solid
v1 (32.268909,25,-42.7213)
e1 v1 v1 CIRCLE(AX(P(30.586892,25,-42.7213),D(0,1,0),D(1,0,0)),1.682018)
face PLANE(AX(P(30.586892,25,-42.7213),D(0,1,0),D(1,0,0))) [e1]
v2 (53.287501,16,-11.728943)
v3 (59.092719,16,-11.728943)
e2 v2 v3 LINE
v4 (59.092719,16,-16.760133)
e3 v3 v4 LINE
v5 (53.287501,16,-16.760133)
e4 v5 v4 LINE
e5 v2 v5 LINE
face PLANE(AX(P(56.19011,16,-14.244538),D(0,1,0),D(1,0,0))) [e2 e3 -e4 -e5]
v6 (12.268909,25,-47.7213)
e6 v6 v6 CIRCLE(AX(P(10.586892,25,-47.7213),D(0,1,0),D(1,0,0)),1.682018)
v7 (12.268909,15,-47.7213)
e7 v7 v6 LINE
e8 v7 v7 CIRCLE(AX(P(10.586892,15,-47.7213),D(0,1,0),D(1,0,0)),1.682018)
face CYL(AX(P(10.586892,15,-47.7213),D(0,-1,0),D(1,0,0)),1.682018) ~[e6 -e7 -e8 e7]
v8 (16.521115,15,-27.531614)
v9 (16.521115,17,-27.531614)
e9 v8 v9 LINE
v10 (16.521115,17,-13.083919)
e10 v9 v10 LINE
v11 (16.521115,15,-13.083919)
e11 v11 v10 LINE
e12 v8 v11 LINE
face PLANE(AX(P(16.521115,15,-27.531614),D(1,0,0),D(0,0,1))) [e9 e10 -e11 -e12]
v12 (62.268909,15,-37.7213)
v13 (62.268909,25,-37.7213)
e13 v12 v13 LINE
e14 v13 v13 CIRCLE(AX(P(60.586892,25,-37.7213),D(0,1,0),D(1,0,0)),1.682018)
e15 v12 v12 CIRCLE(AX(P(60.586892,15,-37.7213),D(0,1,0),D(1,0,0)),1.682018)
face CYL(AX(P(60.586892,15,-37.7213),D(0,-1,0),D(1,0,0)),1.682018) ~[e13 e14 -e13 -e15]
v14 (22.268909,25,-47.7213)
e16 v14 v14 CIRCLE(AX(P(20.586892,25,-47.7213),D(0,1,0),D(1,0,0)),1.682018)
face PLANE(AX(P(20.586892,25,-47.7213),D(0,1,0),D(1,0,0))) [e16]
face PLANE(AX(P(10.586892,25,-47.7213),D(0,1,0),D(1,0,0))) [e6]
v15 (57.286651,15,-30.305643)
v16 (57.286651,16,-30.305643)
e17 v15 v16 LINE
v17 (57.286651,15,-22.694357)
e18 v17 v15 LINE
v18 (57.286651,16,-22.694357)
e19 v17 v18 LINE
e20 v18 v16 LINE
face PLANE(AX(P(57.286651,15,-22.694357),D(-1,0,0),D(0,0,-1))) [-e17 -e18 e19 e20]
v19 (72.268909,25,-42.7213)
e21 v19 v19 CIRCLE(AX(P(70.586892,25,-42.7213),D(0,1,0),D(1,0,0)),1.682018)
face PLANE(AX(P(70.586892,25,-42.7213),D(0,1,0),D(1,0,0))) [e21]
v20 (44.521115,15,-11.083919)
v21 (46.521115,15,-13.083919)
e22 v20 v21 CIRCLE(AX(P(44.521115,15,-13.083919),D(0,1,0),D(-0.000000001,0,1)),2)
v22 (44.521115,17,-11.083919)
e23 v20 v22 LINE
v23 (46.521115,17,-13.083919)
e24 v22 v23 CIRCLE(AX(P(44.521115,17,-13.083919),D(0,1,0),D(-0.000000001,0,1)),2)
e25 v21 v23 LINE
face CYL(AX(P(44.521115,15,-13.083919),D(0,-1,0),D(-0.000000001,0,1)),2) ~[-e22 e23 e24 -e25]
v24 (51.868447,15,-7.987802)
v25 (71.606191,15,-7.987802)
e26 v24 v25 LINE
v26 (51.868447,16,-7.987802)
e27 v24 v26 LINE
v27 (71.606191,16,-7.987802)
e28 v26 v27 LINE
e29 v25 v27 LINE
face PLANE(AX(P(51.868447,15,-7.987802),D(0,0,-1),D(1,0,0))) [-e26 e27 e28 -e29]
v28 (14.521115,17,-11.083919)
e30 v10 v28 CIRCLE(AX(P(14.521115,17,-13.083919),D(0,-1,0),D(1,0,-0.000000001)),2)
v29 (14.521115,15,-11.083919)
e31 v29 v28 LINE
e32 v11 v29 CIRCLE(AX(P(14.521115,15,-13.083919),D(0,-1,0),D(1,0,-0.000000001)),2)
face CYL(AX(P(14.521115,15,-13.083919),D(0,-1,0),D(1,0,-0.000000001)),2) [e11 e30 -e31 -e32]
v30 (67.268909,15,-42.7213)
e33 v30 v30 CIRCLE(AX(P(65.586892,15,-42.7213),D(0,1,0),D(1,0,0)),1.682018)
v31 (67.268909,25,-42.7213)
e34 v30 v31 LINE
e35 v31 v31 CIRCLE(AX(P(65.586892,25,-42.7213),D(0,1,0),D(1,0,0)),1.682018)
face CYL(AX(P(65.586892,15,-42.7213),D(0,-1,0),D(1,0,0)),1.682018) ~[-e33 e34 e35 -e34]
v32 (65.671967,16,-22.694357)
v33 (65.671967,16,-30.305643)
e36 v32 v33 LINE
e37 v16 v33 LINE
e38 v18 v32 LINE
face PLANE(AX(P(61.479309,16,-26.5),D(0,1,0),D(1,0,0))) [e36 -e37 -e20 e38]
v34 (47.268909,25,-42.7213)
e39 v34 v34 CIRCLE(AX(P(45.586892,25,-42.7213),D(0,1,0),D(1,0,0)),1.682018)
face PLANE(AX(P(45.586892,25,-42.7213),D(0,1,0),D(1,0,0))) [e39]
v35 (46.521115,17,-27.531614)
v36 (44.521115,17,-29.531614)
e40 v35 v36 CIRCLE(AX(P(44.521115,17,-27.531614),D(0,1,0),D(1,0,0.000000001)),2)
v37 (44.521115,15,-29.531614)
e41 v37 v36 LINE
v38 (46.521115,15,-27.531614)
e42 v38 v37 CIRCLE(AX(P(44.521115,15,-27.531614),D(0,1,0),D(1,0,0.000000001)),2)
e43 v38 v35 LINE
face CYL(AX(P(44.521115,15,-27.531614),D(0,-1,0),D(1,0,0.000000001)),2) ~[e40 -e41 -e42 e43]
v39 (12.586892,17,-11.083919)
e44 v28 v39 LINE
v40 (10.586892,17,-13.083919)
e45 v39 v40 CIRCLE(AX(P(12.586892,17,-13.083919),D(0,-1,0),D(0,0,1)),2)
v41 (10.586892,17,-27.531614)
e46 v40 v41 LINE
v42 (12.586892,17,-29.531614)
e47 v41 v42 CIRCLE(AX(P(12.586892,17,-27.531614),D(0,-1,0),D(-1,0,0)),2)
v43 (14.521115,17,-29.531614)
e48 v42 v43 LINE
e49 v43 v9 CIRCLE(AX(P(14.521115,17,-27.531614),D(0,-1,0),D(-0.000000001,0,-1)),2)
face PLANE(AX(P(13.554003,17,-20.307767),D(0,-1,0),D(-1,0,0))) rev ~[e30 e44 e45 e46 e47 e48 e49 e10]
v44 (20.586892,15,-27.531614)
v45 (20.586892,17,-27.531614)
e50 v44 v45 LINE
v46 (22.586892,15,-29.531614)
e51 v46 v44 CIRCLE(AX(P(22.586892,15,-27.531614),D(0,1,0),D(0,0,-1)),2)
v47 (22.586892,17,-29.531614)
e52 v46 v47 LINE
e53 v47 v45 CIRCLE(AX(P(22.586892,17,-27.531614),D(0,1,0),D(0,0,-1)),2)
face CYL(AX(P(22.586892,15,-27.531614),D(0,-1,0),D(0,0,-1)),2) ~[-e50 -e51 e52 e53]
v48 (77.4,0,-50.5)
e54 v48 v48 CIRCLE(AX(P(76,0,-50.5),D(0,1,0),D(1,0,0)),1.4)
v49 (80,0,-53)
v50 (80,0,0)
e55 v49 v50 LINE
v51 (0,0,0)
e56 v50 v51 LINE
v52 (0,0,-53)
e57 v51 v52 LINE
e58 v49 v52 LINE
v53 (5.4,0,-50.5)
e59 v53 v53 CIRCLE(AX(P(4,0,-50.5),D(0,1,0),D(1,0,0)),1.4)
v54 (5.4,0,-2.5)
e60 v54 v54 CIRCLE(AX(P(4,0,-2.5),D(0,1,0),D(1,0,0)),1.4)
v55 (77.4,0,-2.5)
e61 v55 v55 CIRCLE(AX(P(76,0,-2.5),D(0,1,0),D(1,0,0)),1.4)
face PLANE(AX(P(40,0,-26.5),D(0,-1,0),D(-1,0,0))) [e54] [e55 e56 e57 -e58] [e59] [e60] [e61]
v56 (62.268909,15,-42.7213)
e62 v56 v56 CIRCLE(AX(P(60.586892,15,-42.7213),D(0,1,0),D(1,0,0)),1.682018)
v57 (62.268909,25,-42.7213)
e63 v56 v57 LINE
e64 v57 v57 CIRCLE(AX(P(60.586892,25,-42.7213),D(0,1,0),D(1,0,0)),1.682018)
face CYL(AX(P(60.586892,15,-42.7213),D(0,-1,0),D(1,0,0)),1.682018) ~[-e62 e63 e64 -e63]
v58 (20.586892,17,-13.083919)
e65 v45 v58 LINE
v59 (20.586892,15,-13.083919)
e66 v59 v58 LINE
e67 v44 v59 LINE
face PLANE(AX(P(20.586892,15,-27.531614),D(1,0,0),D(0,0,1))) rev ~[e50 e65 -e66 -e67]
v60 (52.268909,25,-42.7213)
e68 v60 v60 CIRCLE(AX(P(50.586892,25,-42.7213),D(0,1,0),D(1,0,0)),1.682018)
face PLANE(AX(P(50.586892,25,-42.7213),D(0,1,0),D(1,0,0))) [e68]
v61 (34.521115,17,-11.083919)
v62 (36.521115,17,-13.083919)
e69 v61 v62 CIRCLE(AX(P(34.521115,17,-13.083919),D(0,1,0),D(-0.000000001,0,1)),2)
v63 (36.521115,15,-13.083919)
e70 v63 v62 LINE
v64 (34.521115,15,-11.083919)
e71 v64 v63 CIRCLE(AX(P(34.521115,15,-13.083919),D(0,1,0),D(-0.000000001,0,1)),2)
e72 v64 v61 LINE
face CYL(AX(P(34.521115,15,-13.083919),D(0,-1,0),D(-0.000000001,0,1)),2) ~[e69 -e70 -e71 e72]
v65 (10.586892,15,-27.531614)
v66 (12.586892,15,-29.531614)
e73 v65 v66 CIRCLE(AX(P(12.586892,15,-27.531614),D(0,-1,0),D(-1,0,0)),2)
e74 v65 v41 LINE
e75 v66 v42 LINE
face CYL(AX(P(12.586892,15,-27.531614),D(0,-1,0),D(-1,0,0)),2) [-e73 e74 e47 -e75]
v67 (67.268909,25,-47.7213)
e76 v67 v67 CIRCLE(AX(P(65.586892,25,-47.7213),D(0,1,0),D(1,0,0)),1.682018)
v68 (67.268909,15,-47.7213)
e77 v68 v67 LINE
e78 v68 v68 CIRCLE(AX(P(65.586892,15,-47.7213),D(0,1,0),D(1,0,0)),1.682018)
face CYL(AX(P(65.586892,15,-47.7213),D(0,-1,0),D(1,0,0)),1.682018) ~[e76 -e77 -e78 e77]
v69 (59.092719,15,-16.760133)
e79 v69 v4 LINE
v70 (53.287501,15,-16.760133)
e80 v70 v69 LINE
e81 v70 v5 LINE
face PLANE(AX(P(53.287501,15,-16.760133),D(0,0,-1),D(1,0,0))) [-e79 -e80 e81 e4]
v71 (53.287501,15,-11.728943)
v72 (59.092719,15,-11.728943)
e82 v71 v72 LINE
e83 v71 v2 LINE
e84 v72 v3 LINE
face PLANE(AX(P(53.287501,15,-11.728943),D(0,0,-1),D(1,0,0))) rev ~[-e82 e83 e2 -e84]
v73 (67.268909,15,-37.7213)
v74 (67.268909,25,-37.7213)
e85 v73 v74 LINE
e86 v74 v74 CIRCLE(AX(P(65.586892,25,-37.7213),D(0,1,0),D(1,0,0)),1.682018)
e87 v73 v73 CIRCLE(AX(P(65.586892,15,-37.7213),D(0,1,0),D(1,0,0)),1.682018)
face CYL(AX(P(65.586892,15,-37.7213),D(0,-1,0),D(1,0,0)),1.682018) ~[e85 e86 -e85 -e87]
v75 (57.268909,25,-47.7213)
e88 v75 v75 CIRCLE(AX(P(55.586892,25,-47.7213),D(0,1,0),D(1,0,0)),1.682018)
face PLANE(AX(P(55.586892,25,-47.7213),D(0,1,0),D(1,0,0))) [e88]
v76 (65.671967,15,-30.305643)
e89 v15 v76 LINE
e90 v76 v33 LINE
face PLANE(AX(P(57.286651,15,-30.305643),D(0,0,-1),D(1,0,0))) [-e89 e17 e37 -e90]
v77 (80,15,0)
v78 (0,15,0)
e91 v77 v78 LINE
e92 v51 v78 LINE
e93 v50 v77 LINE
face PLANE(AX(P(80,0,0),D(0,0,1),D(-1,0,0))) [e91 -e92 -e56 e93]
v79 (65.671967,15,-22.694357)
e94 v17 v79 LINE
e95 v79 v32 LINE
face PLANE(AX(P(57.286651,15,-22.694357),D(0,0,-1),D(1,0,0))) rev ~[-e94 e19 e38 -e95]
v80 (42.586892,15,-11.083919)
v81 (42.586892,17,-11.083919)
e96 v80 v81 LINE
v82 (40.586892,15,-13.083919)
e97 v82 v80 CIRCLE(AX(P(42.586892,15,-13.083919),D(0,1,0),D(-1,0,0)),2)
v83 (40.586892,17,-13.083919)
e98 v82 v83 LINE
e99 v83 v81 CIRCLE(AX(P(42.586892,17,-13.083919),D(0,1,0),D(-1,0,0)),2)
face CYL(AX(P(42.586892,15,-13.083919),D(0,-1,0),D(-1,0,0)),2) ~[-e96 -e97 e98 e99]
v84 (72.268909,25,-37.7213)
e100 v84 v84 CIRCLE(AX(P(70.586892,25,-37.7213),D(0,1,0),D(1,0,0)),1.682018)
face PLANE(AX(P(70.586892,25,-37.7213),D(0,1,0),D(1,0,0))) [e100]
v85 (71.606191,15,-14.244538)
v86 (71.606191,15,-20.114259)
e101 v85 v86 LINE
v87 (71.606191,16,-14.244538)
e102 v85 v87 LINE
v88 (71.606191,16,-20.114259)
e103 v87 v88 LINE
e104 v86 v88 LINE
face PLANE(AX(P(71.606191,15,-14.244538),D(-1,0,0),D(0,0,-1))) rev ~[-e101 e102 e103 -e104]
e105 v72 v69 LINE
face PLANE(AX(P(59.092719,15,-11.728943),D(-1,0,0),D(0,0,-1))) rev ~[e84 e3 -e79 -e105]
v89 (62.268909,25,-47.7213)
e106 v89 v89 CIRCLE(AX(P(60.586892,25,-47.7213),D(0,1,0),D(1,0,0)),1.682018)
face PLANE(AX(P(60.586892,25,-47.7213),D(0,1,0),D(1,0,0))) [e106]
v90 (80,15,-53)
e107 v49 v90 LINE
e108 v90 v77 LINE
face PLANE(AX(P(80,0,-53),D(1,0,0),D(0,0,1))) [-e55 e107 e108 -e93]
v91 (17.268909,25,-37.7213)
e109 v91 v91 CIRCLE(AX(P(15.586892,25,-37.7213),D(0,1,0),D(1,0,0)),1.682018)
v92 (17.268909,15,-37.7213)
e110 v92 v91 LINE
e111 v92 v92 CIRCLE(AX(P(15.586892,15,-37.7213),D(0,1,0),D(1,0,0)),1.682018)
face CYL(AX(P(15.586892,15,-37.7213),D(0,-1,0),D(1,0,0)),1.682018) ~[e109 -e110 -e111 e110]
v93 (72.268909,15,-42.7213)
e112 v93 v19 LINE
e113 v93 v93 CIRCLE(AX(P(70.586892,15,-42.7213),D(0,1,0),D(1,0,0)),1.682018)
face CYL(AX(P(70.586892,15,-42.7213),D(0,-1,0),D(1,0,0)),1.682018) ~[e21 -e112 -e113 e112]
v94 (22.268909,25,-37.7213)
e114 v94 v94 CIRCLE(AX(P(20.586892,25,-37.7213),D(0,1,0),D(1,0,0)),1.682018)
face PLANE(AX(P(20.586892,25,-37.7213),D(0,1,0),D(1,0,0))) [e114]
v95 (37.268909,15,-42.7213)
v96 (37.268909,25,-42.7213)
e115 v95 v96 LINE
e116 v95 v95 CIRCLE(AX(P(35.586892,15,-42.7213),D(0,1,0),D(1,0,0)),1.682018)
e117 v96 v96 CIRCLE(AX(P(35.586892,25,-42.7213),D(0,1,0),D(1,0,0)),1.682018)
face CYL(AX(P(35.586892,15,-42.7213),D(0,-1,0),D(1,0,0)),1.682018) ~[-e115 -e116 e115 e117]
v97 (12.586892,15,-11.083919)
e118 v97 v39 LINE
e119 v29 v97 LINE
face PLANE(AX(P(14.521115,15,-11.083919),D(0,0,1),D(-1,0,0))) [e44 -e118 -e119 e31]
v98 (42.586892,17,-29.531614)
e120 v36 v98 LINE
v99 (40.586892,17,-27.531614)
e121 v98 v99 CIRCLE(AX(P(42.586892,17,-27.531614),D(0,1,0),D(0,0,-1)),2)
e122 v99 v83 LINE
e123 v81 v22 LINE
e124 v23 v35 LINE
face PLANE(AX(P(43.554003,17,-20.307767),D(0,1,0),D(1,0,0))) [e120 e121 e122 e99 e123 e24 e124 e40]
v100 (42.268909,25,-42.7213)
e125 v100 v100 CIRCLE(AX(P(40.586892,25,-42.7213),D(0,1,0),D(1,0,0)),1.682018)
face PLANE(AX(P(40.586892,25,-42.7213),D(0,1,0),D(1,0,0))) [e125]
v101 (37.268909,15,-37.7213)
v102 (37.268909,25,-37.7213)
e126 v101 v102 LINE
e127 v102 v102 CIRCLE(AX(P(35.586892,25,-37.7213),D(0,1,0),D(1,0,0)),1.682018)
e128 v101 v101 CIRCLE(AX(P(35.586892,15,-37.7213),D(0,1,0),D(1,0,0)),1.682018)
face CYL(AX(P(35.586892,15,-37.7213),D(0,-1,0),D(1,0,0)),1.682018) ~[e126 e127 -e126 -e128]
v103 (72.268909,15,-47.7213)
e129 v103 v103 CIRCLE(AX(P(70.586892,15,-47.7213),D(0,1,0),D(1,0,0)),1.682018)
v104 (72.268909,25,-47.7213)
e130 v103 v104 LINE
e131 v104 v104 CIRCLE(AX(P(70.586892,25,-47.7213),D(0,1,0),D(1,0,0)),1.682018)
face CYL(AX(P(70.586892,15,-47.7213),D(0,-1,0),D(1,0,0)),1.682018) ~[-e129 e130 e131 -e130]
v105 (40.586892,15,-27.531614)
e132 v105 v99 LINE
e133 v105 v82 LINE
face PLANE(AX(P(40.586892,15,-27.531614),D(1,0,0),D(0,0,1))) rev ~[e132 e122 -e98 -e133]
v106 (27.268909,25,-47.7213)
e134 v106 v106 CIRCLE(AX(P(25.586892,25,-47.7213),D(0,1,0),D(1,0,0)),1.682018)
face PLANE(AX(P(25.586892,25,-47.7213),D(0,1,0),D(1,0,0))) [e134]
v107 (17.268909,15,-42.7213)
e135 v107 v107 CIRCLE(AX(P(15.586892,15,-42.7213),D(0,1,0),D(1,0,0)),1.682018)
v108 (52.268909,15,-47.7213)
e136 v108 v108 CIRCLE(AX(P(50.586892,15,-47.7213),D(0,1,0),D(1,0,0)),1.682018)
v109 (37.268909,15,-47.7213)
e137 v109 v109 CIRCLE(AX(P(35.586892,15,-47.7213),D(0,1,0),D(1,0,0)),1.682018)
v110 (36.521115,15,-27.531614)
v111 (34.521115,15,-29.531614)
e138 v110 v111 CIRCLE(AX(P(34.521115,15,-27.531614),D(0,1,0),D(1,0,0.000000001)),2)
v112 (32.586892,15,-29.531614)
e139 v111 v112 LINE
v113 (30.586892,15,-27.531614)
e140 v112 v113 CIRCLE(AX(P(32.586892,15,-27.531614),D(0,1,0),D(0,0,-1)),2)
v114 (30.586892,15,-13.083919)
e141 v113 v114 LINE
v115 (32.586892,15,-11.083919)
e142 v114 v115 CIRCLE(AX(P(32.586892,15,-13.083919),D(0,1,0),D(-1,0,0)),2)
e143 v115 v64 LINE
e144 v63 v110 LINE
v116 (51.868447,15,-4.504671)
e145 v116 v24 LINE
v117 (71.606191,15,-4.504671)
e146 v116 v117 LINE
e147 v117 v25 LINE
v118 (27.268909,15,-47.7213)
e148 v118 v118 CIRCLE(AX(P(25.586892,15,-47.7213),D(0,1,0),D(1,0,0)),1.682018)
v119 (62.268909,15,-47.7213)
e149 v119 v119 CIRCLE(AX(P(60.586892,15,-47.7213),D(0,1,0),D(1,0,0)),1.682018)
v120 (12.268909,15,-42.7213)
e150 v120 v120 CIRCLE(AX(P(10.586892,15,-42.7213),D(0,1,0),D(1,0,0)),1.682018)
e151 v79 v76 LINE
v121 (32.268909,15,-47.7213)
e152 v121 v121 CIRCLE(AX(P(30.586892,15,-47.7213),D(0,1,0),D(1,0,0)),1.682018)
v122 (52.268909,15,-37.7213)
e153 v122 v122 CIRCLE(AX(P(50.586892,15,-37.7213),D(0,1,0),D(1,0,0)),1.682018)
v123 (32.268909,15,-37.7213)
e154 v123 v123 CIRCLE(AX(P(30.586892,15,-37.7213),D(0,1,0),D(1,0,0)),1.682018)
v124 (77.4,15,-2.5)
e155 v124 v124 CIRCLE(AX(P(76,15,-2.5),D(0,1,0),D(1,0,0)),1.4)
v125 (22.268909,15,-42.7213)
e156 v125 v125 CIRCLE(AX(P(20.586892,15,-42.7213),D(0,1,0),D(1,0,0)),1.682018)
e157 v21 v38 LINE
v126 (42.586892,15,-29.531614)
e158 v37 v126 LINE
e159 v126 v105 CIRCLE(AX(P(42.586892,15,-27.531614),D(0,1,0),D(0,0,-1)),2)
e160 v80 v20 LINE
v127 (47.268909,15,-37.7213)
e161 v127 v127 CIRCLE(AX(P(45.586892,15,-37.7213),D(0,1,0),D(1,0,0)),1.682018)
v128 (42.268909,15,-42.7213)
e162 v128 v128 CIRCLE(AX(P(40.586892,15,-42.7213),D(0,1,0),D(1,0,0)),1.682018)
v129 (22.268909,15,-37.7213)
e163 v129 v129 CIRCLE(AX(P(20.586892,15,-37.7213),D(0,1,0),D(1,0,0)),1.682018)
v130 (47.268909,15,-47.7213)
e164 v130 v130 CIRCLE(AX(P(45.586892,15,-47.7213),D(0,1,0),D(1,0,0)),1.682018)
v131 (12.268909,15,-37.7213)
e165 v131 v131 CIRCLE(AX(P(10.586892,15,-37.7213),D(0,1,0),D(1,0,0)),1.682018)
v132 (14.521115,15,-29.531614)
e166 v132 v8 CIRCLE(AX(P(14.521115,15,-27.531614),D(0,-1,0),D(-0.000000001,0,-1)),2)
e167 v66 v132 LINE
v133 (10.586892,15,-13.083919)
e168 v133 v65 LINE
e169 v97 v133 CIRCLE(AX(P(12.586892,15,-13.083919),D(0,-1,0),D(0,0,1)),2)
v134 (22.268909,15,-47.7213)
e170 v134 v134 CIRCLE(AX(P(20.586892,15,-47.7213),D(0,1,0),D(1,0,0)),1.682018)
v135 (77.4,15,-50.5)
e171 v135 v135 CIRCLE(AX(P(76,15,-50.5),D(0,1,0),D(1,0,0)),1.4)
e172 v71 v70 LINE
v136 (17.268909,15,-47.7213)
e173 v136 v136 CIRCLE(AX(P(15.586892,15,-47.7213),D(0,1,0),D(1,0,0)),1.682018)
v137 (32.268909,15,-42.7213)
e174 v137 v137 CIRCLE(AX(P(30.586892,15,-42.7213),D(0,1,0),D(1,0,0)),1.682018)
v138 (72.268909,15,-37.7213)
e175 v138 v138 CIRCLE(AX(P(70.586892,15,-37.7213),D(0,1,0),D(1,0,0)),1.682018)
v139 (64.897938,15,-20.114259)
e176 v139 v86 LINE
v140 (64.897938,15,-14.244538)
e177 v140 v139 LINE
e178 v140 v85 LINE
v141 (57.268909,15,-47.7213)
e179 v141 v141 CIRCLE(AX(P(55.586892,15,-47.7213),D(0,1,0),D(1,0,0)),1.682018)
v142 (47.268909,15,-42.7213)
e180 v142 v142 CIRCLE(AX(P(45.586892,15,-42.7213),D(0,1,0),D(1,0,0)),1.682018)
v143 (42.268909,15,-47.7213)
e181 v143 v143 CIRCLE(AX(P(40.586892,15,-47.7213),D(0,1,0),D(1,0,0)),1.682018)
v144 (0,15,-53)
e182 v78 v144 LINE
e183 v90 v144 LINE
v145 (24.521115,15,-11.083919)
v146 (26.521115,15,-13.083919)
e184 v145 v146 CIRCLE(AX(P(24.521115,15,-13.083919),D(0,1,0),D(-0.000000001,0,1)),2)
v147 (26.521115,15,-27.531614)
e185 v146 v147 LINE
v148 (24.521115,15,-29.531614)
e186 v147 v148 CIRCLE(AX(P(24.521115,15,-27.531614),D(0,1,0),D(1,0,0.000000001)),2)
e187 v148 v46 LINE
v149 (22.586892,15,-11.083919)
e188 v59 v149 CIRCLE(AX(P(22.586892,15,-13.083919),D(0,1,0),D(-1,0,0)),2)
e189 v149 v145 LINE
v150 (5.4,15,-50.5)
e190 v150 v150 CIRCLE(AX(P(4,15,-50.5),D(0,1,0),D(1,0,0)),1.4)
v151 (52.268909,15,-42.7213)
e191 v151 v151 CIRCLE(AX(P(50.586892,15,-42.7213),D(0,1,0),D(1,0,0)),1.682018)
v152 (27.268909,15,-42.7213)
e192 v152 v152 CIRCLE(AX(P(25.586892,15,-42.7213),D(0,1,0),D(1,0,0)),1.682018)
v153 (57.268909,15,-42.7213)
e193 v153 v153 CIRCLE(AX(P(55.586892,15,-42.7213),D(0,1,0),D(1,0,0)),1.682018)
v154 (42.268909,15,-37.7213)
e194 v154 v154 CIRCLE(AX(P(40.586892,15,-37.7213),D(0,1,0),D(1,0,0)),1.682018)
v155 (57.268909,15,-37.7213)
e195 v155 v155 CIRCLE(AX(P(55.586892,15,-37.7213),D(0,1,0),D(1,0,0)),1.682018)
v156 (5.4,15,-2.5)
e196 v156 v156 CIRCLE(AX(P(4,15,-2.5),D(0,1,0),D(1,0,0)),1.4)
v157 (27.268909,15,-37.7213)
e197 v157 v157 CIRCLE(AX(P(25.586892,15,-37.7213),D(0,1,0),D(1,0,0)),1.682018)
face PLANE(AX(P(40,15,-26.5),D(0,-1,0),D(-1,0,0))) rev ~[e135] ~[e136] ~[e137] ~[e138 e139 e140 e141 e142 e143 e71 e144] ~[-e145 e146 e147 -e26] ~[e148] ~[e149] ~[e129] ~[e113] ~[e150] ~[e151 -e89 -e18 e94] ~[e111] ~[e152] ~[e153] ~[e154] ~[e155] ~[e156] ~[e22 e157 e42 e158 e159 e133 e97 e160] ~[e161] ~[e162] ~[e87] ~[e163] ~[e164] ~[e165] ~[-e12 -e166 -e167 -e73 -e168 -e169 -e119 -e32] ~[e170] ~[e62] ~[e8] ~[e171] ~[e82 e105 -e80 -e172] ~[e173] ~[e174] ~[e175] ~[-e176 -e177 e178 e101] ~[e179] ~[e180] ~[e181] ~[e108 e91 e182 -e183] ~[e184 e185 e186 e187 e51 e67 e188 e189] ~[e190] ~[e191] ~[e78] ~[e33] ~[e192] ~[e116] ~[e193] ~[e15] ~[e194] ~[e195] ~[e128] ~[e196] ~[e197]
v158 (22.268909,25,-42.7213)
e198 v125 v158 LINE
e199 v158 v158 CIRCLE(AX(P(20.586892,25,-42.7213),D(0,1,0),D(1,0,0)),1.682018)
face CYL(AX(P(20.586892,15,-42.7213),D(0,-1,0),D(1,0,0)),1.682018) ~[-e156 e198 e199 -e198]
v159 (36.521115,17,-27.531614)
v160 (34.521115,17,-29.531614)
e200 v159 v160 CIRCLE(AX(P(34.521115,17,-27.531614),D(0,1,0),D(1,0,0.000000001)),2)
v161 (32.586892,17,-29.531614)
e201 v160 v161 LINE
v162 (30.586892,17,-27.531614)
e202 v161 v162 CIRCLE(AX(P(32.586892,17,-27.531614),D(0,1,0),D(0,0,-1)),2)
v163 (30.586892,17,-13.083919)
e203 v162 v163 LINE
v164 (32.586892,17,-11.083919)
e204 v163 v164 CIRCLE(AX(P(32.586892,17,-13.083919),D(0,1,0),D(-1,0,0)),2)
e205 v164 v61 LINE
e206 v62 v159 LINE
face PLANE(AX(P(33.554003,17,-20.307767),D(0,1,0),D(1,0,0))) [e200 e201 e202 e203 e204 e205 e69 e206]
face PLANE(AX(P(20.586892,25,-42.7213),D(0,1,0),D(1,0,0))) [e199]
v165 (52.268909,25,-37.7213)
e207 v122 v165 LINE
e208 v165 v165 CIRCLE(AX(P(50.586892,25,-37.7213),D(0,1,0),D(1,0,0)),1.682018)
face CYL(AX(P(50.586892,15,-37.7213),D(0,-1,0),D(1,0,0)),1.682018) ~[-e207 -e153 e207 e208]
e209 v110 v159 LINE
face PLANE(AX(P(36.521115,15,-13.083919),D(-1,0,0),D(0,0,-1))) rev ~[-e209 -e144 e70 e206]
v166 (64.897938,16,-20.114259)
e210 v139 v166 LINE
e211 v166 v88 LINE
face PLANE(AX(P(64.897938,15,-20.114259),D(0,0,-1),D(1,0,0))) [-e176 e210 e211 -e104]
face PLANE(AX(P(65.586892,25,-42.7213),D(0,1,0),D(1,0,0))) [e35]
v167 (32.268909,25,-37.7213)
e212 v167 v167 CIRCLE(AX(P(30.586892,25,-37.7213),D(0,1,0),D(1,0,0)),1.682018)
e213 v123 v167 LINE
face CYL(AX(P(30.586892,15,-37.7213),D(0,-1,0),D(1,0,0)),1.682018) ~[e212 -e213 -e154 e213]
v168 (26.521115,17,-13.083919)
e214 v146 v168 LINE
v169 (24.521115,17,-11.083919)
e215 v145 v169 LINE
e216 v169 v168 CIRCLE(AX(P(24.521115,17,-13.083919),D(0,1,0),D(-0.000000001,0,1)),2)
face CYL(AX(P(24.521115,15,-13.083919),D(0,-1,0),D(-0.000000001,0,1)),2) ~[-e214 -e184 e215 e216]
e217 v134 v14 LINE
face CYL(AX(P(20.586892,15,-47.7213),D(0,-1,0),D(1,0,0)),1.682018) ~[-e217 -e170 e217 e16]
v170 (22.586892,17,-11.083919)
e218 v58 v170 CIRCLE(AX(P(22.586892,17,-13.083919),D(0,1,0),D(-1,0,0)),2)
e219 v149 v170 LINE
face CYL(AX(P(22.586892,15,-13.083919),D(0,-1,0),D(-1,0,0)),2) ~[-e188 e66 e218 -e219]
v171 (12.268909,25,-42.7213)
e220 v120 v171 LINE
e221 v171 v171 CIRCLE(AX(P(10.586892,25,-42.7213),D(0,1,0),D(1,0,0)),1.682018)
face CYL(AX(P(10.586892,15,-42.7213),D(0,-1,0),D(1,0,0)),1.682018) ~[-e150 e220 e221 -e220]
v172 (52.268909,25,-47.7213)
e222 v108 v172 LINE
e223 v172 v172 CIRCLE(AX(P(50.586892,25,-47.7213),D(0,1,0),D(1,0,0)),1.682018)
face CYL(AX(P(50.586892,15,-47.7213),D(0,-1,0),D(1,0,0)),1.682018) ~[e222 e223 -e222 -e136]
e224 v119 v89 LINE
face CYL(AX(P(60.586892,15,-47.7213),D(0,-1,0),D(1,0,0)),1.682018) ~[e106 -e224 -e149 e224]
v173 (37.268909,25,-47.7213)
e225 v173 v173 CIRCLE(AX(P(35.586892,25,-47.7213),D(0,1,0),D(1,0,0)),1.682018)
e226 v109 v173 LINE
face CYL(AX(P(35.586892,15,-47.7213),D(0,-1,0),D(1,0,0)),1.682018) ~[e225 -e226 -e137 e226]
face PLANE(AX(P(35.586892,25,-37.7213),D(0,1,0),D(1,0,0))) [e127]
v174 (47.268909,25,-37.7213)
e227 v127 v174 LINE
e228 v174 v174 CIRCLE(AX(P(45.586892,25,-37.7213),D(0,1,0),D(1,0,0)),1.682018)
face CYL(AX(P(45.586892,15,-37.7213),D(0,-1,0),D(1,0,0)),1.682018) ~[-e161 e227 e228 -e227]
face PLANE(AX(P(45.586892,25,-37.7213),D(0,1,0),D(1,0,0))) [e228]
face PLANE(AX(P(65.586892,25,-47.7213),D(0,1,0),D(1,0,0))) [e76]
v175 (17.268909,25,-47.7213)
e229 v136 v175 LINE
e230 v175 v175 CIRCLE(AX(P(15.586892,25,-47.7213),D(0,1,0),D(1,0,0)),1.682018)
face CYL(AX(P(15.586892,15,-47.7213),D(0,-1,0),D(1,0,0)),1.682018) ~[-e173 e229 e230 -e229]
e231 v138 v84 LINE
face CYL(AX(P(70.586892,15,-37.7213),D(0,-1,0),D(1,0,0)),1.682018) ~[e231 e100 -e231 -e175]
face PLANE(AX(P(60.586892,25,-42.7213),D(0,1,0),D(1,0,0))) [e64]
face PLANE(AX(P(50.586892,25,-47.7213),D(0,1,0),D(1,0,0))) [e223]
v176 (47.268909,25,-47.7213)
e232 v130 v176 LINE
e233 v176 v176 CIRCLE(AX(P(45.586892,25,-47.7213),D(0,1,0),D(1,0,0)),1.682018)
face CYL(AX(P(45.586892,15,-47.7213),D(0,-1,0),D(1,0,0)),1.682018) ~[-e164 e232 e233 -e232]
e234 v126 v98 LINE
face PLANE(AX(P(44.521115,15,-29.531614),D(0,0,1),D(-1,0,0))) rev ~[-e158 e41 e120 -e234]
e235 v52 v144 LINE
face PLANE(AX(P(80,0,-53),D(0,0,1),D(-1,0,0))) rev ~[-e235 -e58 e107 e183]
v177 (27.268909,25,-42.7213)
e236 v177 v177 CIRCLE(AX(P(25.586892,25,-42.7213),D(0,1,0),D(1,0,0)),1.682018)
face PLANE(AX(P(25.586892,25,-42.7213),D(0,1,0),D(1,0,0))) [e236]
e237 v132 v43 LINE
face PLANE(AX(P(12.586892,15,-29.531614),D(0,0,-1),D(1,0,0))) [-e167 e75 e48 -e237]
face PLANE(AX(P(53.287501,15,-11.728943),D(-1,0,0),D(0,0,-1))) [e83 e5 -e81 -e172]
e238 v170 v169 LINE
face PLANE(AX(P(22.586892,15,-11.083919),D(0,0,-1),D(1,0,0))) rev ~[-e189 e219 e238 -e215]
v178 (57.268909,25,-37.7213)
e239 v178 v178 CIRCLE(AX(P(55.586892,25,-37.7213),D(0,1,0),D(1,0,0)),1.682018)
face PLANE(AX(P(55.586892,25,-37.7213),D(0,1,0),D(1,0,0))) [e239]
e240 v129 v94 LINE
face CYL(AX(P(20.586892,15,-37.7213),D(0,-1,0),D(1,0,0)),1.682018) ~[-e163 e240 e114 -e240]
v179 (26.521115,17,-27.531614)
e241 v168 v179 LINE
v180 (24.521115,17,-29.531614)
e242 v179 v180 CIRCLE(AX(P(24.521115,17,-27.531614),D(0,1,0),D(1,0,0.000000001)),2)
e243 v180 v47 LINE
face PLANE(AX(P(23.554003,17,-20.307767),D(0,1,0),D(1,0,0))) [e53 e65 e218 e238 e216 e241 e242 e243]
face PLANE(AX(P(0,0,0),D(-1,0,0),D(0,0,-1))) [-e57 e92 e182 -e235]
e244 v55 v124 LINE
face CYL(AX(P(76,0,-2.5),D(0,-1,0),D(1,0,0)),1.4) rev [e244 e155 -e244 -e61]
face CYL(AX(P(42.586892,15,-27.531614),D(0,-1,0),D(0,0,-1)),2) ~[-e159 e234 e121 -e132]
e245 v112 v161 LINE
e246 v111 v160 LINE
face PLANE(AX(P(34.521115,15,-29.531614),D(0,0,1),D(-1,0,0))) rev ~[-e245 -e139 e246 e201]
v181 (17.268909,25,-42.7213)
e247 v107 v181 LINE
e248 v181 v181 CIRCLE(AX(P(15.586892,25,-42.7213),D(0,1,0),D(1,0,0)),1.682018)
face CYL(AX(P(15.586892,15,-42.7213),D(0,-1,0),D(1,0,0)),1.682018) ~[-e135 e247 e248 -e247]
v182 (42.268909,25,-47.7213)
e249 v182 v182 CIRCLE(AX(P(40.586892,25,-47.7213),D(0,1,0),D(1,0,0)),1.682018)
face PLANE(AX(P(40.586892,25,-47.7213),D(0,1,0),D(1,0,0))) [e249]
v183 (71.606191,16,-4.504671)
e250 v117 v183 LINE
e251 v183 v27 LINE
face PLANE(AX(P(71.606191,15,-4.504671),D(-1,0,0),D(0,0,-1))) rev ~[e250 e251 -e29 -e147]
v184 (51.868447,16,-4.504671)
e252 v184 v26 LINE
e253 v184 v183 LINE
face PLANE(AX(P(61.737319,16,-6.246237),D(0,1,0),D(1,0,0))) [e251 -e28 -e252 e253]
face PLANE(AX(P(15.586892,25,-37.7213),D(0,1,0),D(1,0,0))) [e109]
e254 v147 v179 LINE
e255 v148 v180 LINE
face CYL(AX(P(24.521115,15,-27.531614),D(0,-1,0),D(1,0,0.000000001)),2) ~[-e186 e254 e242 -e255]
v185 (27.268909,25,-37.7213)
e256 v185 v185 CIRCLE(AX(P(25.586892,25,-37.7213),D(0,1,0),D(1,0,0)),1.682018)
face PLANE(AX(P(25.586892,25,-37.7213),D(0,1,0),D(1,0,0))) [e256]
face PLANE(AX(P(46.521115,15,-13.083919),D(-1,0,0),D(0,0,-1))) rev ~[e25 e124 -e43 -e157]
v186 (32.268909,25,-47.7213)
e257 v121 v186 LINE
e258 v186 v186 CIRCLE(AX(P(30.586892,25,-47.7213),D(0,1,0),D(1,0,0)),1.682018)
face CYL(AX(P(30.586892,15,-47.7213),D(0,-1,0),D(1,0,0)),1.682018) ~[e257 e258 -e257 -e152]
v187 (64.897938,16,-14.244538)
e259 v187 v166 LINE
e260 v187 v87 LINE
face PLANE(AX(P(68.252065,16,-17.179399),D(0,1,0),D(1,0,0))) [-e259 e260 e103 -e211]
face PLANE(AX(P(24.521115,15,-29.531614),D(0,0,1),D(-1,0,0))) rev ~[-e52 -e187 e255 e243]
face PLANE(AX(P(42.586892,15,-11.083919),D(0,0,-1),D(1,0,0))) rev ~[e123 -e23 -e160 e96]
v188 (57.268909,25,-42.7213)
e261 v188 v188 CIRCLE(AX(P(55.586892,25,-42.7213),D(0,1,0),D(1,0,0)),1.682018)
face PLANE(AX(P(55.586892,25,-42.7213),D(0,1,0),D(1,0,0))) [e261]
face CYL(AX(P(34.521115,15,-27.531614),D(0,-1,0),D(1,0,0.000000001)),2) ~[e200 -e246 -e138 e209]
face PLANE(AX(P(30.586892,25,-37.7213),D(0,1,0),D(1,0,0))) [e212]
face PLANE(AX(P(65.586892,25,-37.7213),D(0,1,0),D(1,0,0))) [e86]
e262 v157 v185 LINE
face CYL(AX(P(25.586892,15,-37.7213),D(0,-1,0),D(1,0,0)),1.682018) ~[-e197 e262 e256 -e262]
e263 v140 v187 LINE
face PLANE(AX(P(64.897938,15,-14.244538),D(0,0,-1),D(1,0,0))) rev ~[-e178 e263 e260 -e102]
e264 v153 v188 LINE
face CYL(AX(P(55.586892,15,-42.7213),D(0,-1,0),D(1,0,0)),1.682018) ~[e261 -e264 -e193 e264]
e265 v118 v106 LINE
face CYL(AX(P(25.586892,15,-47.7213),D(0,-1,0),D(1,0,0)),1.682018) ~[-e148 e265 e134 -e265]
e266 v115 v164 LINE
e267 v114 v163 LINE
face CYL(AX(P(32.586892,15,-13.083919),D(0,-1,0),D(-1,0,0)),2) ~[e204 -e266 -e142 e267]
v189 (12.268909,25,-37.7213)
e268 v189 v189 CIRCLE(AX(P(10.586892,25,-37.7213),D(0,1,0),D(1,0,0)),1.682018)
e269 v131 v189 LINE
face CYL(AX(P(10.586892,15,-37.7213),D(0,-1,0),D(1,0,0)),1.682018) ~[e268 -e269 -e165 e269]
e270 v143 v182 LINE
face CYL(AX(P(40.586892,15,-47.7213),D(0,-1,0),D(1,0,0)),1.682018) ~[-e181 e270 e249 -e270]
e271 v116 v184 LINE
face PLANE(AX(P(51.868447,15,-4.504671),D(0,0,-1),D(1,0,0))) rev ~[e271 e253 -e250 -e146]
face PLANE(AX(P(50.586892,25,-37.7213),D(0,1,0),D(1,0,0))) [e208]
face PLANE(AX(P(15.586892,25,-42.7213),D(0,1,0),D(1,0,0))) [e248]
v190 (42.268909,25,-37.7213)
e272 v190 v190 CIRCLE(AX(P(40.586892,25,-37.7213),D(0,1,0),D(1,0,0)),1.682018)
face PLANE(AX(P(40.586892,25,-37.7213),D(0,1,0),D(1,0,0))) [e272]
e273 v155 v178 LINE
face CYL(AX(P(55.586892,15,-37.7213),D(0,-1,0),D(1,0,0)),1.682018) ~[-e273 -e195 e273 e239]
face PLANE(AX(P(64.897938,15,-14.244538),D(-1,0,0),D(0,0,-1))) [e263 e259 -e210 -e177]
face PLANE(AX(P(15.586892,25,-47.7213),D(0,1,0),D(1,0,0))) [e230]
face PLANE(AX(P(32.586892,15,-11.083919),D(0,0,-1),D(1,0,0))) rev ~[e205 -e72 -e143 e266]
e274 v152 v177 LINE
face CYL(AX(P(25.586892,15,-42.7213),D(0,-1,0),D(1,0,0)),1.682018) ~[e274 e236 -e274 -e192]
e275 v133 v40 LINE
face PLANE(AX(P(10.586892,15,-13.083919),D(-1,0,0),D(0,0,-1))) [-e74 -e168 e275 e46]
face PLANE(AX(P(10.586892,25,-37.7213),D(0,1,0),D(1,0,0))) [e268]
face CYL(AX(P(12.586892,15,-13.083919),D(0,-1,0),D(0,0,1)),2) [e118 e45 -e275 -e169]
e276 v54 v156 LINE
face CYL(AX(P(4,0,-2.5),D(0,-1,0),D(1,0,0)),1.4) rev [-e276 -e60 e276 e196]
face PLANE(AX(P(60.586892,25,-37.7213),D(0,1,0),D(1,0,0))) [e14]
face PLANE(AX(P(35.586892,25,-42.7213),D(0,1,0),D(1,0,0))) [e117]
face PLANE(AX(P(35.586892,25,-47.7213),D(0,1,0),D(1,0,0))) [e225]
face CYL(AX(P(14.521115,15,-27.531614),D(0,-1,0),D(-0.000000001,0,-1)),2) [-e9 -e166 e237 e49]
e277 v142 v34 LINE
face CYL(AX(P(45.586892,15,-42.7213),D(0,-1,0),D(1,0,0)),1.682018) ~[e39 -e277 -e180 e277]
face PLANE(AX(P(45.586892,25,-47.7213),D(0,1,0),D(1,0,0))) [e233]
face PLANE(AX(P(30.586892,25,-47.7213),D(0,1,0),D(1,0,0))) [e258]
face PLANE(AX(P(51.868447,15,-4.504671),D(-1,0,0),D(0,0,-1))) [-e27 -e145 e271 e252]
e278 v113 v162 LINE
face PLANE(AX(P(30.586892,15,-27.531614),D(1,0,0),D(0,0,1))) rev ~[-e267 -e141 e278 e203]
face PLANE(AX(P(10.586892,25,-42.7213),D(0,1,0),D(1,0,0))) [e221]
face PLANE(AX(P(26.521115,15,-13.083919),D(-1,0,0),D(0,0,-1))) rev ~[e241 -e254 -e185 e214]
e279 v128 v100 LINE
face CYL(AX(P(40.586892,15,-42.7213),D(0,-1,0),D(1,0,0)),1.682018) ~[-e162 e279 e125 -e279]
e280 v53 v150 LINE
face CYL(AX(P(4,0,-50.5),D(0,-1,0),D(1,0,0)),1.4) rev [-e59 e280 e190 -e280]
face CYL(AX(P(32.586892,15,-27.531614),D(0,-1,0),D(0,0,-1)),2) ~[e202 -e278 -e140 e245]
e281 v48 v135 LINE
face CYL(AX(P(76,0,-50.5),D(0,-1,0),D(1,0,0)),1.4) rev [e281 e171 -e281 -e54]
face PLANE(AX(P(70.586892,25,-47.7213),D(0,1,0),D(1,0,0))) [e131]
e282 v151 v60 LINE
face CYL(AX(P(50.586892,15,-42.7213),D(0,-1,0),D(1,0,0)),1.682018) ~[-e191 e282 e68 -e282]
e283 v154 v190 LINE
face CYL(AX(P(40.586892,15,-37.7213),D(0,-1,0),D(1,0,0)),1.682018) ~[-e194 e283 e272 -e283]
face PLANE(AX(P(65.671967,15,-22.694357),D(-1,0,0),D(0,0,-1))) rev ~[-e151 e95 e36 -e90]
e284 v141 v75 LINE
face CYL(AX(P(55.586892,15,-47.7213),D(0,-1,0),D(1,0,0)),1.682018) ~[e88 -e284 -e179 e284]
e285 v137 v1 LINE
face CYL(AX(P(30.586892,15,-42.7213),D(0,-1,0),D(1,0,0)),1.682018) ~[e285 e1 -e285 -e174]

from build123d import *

# Parameters (mm, degrees)
SKETCH_1_R      = 1.4
EXTRUDE_1_DEPTH = 15
SKETCH_2_R      = 1.682017604
EXTRUDE_2_DEPTH = 10
EXTRUDE_3_DEPTH = 2
SKETCH_4_W      = 8.385315984
SKETCH_4_H      = 7.611286816
SKETCH_4_W_2    = 5.805218758
SKETCH_4_H_2    = 5.031189591
SKETCH_4_W_3    = 6.708252787
SKETCH_4_H_3    = 5.869721189
SKETCH_4_W_4    = 19.737743777
SKETCH_4_H_4    = 3.483131255
EXTRUDE_4_DEPTH = 1


with BuildPart() as part:
    # 草图1 → 凸台-拉伸1 (new body)
    with BuildSketch(Plane(origin=(0, 0, 0), x_dir=(1, 0, 0), z_dir=(0, 1, 0))):
        Polygon((80, 53), (80, 0), (0, 0), (0, 53), (39.5, 53), (41.5, 53), align=None)
        with Locations((76, 50.5)):
            Circle(SKETCH_1_R, mode=Mode.SUBTRACT)
        with Locations((76, 2.5)):
            Circle(SKETCH_1_R, mode=Mode.SUBTRACT)
        with Locations((4, 50.5)):
            Circle(SKETCH_1_R, mode=Mode.SUBTRACT)
        with Locations((4, 2.5)):
            Circle(SKETCH_1_R, mode=Mode.SUBTRACT)
    extrude(amount=EXTRUDE_1_DEPTH)

    # 草图2 → 凸台-拉伸2 (add)
    with BuildSketch(Plane(origin=(0, 15, 0), x_dir=(1, 0, 0), z_dir=(0, 1, 0))):
        with Locations((10.586891626, 47.721299682)):
            Circle(SKETCH_2_R)
        with Locations((15.586891626, 47.721299682)):
            Circle(SKETCH_2_R)
        with Locations((20.586891626, 47.721299682)):
            Circle(SKETCH_2_R)
        with Locations((25.586891626, 47.721299682)):
            Circle(SKETCH_2_R)
        with Locations((30.586891626, 47.721299682)):
            Circle(SKETCH_2_R)
        with Locations((35.586891626, 47.721299682)):
            Circle(SKETCH_2_R)
        with Locations((40.586891626, 47.721299682)):
            Circle(SKETCH_2_R)
        with Locations((45.586891626, 47.721299682)):
            Circle(SKETCH_2_R)
        with Locations((50.586891626, 47.721299682)):
            Circle(SKETCH_2_R)
        with Locations((55.586891626, 47.721299682)):
            Circle(SKETCH_2_R)
        with Locations((60.586891626, 47.721299682)):
            Circle(SKETCH_2_R)
        with Locations((65.586891626, 47.721299682)):
            Circle(SKETCH_2_R)
        with Locations((70.586891626, 47.721299682)):
            Circle(SKETCH_2_R)
        with Locations((15.586891626, 42.721299682)):
            Circle(SKETCH_2_R)
        with Locations((20.586891626, 42.721299682)):
            Circle(SKETCH_2_R)
        with Locations((25.586891626, 42.721299682)):
            Circle(SKETCH_2_R)
        with Locations((30.586891626, 42.721299682)):
            Circle(SKETCH_2_R)
        with Locations((35.586891626, 42.721299682)):
            Circle(SKETCH_2_R)
        with Locations((40.586891626, 42.721299682)):
            Circle(SKETCH_2_R)
        with Locations((45.586891626, 42.721299682)):
            Circle(SKETCH_2_R)
        with Locations((50.586891626, 42.721299682)):
            Circle(SKETCH_2_R)
        with Locations((55.586891626, 42.721299682)):
            Circle(SKETCH_2_R)
        with Locations((60.586891626, 42.721299682)):
            Circle(SKETCH_2_R)
        with Locations((65.586891626, 42.721299682)):
            Circle(SKETCH_2_R)
        with Locations((70.586891626, 42.721299682)):
            Circle(SKETCH_2_R)
        with Locations((15.586891626, 37.721299682)):
            Circle(SKETCH_2_R)
        with Locations((20.586891626, 37.721299682)):
            Circle(SKETCH_2_R)
        with Locations((25.586891626, 37.721299682)):
            Circle(SKETCH_2_R)
        with Locations((30.586891626, 37.721299682)):
            Circle(SKETCH_2_R)
        with Locations((35.586891626, 37.721299682)):
            Circle(SKETCH_2_R)
        with Locations((40.586891626, 37.721299682)):
            Circle(SKETCH_2_R)
        with Locations((45.586891626, 37.721299682)):
            Circle(SKETCH_2_R)
        with Locations((50.586891626, 37.721299682)):
            Circle(SKETCH_2_R)
        with Locations((55.586891626, 37.721299682)):
            Circle(SKETCH_2_R)
        with Locations((60.586891626, 37.721299682)):
            Circle(SKETCH_2_R)
        with Locations((65.586891626, 37.721299682)):
            Circle(SKETCH_2_R)
        with Locations((70.586891626, 37.721299682)):
            Circle(SKETCH_2_R)
        with Locations((10.586891626, 42.721299682)):
            Circle(SKETCH_2_R)
        with Locations((10.586891626, 37.721299682)):
            Circle(SKETCH_2_R)
    extrude(amount=EXTRUDE_2_DEPTH)

    # 草图3 → 凸台-拉伸3 (add)
    with BuildSketch(Plane(origin=(0, 15, 0), x_dir=(1, 0, 0), z_dir=(0, 1, 0))):
        with BuildLine():
            Line((20.586891626, 27.53161424), (20.586891626, 13.083919076))
            ThreePointArc((20.586891626, 13.083919076), (21.172678064, 11.669705513), (22.586891626, 11.083919076))
            Line((22.586891626, 11.083919076), (24.521115245, 11.083919076))
            ThreePointArc((24.521115245, 11.083919076), (25.935328808, 11.669705513), (26.521115245, 13.083919076))
            Line((26.521115245, 13.083919076), (26.521115245, 27.53161424))
            ThreePointArc((26.521115245, 27.53161424), (25.935328808, 28.945827803), (24.521115245, 29.53161424))
            Line((24.521115245, 29.53161424), (22.586891626, 29.53161424))
            ThreePointArc((22.586891626, 29.53161424), (21.172678064, 28.945827803), (20.586891626, 27.53161424))
        make_face()
        with BuildLine():
            Line((12.586891626, 29.53161424), (14.521115245, 29.53161424))
            ThreePointArc((14.521115245, 29.53161424), (15.935328808, 28.945827803), (16.521115245, 27.53161424))
            Line((16.521115245, 27.53161424), (16.521115245, 13.083919076))
            ThreePointArc((16.521115245, 13.083919076), (15.935328808, 11.669705513), (14.521115245, 11.083919076))
            Line((14.521115245, 11.083919076), (12.586891626, 11.083919076))
            ThreePointArc((12.586891626, 11.083919076), (11.172678064, 11.669705513), (10.586891626, 13.083919076))
            Line((10.586891626, 13.083919076), (10.586891626, 27.53161424))
            ThreePointArc((10.586891626, 27.53161424), (11.172678064, 28.945827803), (12.586891626, 29.53161424))
        make_face()
        with BuildLine():
            Line((30.586891626, 27.53161424), (30.586891626, 13.083919076))
            ThreePointArc((30.586891626, 13.083919076), (31.172678064, 11.669705513), (32.586891626, 11.083919076))
            Line((32.586891626, 11.083919076), (34.521115245, 11.083919076))
            ThreePointArc((34.521115245, 11.083919076), (35.935328808, 11.669705513), (36.521115245, 13.083919076))
            Line((36.521115245, 13.083919076), (36.521115245, 27.53161424))
            ThreePointArc((36.521115245, 27.53161424), (35.935328808, 28.945827803), (34.521115245, 29.53161424))
            Line((34.521115245, 29.53161424), (32.586891626, 29.53161424))
            ThreePointArc((32.586891626, 29.53161424), (31.172678064, 28.945827803), (30.586891626, 27.53161424))
        make_face()
        with BuildLine():
            Line((40.586891626, 27.53161424), (40.586891626, 13.083919076))
            ThreePointArc((40.586891626, 13.083919076), (41.172678064, 11.669705513), (42.586891626, 11.083919076))
            Line((42.586891626, 11.083919076), (44.521115245, 11.083919076))
            ThreePointArc((44.521115245, 11.083919076), (45.935328808, 11.669705513), (46.521115245, 13.083919076))
            Line((46.521115245, 13.083919076), (46.521115245, 27.53161424))
            ThreePointArc((46.521115245, 27.53161424), (45.935328808, 28.945827803), (44.521115245, 29.53161424))
            Line((44.521115245, 29.53161424), (42.586891626, 29.53161424))
            ThreePointArc((42.586891626, 29.53161424), (41.172678064, 28.945827803), (40.586891626, 27.53161424))
        make_face()
    extrude(amount=EXTRUDE_3_DEPTH)

    # 草图4 → 凸台-拉伸4 (add)
    with BuildSketch(Plane(origin=(0, 15, 0), x_dir=(1, 0, 0), z_dir=(0, 1, 0))):
        with Locations((61.479309405, 26.5)):
            Rectangle(SKETCH_4_W, SKETCH_4_H)
        with Locations((56.190110092, 14.244538178)):
            Rectangle(SKETCH_4_W_2, SKETCH_4_H_2)
        with Locations((68.252064623, 17.179398772)):
            Rectangle(SKETCH_4_W_3, SKETCH_4_H_3)
        with Locations((61.737319128, 6.246236778)):
            Rectangle(SKETCH_4_W_4, SKETCH_4_H_4)
    extrude(amount=EXTRUDE_4_DEPTH)


solid = part.part
